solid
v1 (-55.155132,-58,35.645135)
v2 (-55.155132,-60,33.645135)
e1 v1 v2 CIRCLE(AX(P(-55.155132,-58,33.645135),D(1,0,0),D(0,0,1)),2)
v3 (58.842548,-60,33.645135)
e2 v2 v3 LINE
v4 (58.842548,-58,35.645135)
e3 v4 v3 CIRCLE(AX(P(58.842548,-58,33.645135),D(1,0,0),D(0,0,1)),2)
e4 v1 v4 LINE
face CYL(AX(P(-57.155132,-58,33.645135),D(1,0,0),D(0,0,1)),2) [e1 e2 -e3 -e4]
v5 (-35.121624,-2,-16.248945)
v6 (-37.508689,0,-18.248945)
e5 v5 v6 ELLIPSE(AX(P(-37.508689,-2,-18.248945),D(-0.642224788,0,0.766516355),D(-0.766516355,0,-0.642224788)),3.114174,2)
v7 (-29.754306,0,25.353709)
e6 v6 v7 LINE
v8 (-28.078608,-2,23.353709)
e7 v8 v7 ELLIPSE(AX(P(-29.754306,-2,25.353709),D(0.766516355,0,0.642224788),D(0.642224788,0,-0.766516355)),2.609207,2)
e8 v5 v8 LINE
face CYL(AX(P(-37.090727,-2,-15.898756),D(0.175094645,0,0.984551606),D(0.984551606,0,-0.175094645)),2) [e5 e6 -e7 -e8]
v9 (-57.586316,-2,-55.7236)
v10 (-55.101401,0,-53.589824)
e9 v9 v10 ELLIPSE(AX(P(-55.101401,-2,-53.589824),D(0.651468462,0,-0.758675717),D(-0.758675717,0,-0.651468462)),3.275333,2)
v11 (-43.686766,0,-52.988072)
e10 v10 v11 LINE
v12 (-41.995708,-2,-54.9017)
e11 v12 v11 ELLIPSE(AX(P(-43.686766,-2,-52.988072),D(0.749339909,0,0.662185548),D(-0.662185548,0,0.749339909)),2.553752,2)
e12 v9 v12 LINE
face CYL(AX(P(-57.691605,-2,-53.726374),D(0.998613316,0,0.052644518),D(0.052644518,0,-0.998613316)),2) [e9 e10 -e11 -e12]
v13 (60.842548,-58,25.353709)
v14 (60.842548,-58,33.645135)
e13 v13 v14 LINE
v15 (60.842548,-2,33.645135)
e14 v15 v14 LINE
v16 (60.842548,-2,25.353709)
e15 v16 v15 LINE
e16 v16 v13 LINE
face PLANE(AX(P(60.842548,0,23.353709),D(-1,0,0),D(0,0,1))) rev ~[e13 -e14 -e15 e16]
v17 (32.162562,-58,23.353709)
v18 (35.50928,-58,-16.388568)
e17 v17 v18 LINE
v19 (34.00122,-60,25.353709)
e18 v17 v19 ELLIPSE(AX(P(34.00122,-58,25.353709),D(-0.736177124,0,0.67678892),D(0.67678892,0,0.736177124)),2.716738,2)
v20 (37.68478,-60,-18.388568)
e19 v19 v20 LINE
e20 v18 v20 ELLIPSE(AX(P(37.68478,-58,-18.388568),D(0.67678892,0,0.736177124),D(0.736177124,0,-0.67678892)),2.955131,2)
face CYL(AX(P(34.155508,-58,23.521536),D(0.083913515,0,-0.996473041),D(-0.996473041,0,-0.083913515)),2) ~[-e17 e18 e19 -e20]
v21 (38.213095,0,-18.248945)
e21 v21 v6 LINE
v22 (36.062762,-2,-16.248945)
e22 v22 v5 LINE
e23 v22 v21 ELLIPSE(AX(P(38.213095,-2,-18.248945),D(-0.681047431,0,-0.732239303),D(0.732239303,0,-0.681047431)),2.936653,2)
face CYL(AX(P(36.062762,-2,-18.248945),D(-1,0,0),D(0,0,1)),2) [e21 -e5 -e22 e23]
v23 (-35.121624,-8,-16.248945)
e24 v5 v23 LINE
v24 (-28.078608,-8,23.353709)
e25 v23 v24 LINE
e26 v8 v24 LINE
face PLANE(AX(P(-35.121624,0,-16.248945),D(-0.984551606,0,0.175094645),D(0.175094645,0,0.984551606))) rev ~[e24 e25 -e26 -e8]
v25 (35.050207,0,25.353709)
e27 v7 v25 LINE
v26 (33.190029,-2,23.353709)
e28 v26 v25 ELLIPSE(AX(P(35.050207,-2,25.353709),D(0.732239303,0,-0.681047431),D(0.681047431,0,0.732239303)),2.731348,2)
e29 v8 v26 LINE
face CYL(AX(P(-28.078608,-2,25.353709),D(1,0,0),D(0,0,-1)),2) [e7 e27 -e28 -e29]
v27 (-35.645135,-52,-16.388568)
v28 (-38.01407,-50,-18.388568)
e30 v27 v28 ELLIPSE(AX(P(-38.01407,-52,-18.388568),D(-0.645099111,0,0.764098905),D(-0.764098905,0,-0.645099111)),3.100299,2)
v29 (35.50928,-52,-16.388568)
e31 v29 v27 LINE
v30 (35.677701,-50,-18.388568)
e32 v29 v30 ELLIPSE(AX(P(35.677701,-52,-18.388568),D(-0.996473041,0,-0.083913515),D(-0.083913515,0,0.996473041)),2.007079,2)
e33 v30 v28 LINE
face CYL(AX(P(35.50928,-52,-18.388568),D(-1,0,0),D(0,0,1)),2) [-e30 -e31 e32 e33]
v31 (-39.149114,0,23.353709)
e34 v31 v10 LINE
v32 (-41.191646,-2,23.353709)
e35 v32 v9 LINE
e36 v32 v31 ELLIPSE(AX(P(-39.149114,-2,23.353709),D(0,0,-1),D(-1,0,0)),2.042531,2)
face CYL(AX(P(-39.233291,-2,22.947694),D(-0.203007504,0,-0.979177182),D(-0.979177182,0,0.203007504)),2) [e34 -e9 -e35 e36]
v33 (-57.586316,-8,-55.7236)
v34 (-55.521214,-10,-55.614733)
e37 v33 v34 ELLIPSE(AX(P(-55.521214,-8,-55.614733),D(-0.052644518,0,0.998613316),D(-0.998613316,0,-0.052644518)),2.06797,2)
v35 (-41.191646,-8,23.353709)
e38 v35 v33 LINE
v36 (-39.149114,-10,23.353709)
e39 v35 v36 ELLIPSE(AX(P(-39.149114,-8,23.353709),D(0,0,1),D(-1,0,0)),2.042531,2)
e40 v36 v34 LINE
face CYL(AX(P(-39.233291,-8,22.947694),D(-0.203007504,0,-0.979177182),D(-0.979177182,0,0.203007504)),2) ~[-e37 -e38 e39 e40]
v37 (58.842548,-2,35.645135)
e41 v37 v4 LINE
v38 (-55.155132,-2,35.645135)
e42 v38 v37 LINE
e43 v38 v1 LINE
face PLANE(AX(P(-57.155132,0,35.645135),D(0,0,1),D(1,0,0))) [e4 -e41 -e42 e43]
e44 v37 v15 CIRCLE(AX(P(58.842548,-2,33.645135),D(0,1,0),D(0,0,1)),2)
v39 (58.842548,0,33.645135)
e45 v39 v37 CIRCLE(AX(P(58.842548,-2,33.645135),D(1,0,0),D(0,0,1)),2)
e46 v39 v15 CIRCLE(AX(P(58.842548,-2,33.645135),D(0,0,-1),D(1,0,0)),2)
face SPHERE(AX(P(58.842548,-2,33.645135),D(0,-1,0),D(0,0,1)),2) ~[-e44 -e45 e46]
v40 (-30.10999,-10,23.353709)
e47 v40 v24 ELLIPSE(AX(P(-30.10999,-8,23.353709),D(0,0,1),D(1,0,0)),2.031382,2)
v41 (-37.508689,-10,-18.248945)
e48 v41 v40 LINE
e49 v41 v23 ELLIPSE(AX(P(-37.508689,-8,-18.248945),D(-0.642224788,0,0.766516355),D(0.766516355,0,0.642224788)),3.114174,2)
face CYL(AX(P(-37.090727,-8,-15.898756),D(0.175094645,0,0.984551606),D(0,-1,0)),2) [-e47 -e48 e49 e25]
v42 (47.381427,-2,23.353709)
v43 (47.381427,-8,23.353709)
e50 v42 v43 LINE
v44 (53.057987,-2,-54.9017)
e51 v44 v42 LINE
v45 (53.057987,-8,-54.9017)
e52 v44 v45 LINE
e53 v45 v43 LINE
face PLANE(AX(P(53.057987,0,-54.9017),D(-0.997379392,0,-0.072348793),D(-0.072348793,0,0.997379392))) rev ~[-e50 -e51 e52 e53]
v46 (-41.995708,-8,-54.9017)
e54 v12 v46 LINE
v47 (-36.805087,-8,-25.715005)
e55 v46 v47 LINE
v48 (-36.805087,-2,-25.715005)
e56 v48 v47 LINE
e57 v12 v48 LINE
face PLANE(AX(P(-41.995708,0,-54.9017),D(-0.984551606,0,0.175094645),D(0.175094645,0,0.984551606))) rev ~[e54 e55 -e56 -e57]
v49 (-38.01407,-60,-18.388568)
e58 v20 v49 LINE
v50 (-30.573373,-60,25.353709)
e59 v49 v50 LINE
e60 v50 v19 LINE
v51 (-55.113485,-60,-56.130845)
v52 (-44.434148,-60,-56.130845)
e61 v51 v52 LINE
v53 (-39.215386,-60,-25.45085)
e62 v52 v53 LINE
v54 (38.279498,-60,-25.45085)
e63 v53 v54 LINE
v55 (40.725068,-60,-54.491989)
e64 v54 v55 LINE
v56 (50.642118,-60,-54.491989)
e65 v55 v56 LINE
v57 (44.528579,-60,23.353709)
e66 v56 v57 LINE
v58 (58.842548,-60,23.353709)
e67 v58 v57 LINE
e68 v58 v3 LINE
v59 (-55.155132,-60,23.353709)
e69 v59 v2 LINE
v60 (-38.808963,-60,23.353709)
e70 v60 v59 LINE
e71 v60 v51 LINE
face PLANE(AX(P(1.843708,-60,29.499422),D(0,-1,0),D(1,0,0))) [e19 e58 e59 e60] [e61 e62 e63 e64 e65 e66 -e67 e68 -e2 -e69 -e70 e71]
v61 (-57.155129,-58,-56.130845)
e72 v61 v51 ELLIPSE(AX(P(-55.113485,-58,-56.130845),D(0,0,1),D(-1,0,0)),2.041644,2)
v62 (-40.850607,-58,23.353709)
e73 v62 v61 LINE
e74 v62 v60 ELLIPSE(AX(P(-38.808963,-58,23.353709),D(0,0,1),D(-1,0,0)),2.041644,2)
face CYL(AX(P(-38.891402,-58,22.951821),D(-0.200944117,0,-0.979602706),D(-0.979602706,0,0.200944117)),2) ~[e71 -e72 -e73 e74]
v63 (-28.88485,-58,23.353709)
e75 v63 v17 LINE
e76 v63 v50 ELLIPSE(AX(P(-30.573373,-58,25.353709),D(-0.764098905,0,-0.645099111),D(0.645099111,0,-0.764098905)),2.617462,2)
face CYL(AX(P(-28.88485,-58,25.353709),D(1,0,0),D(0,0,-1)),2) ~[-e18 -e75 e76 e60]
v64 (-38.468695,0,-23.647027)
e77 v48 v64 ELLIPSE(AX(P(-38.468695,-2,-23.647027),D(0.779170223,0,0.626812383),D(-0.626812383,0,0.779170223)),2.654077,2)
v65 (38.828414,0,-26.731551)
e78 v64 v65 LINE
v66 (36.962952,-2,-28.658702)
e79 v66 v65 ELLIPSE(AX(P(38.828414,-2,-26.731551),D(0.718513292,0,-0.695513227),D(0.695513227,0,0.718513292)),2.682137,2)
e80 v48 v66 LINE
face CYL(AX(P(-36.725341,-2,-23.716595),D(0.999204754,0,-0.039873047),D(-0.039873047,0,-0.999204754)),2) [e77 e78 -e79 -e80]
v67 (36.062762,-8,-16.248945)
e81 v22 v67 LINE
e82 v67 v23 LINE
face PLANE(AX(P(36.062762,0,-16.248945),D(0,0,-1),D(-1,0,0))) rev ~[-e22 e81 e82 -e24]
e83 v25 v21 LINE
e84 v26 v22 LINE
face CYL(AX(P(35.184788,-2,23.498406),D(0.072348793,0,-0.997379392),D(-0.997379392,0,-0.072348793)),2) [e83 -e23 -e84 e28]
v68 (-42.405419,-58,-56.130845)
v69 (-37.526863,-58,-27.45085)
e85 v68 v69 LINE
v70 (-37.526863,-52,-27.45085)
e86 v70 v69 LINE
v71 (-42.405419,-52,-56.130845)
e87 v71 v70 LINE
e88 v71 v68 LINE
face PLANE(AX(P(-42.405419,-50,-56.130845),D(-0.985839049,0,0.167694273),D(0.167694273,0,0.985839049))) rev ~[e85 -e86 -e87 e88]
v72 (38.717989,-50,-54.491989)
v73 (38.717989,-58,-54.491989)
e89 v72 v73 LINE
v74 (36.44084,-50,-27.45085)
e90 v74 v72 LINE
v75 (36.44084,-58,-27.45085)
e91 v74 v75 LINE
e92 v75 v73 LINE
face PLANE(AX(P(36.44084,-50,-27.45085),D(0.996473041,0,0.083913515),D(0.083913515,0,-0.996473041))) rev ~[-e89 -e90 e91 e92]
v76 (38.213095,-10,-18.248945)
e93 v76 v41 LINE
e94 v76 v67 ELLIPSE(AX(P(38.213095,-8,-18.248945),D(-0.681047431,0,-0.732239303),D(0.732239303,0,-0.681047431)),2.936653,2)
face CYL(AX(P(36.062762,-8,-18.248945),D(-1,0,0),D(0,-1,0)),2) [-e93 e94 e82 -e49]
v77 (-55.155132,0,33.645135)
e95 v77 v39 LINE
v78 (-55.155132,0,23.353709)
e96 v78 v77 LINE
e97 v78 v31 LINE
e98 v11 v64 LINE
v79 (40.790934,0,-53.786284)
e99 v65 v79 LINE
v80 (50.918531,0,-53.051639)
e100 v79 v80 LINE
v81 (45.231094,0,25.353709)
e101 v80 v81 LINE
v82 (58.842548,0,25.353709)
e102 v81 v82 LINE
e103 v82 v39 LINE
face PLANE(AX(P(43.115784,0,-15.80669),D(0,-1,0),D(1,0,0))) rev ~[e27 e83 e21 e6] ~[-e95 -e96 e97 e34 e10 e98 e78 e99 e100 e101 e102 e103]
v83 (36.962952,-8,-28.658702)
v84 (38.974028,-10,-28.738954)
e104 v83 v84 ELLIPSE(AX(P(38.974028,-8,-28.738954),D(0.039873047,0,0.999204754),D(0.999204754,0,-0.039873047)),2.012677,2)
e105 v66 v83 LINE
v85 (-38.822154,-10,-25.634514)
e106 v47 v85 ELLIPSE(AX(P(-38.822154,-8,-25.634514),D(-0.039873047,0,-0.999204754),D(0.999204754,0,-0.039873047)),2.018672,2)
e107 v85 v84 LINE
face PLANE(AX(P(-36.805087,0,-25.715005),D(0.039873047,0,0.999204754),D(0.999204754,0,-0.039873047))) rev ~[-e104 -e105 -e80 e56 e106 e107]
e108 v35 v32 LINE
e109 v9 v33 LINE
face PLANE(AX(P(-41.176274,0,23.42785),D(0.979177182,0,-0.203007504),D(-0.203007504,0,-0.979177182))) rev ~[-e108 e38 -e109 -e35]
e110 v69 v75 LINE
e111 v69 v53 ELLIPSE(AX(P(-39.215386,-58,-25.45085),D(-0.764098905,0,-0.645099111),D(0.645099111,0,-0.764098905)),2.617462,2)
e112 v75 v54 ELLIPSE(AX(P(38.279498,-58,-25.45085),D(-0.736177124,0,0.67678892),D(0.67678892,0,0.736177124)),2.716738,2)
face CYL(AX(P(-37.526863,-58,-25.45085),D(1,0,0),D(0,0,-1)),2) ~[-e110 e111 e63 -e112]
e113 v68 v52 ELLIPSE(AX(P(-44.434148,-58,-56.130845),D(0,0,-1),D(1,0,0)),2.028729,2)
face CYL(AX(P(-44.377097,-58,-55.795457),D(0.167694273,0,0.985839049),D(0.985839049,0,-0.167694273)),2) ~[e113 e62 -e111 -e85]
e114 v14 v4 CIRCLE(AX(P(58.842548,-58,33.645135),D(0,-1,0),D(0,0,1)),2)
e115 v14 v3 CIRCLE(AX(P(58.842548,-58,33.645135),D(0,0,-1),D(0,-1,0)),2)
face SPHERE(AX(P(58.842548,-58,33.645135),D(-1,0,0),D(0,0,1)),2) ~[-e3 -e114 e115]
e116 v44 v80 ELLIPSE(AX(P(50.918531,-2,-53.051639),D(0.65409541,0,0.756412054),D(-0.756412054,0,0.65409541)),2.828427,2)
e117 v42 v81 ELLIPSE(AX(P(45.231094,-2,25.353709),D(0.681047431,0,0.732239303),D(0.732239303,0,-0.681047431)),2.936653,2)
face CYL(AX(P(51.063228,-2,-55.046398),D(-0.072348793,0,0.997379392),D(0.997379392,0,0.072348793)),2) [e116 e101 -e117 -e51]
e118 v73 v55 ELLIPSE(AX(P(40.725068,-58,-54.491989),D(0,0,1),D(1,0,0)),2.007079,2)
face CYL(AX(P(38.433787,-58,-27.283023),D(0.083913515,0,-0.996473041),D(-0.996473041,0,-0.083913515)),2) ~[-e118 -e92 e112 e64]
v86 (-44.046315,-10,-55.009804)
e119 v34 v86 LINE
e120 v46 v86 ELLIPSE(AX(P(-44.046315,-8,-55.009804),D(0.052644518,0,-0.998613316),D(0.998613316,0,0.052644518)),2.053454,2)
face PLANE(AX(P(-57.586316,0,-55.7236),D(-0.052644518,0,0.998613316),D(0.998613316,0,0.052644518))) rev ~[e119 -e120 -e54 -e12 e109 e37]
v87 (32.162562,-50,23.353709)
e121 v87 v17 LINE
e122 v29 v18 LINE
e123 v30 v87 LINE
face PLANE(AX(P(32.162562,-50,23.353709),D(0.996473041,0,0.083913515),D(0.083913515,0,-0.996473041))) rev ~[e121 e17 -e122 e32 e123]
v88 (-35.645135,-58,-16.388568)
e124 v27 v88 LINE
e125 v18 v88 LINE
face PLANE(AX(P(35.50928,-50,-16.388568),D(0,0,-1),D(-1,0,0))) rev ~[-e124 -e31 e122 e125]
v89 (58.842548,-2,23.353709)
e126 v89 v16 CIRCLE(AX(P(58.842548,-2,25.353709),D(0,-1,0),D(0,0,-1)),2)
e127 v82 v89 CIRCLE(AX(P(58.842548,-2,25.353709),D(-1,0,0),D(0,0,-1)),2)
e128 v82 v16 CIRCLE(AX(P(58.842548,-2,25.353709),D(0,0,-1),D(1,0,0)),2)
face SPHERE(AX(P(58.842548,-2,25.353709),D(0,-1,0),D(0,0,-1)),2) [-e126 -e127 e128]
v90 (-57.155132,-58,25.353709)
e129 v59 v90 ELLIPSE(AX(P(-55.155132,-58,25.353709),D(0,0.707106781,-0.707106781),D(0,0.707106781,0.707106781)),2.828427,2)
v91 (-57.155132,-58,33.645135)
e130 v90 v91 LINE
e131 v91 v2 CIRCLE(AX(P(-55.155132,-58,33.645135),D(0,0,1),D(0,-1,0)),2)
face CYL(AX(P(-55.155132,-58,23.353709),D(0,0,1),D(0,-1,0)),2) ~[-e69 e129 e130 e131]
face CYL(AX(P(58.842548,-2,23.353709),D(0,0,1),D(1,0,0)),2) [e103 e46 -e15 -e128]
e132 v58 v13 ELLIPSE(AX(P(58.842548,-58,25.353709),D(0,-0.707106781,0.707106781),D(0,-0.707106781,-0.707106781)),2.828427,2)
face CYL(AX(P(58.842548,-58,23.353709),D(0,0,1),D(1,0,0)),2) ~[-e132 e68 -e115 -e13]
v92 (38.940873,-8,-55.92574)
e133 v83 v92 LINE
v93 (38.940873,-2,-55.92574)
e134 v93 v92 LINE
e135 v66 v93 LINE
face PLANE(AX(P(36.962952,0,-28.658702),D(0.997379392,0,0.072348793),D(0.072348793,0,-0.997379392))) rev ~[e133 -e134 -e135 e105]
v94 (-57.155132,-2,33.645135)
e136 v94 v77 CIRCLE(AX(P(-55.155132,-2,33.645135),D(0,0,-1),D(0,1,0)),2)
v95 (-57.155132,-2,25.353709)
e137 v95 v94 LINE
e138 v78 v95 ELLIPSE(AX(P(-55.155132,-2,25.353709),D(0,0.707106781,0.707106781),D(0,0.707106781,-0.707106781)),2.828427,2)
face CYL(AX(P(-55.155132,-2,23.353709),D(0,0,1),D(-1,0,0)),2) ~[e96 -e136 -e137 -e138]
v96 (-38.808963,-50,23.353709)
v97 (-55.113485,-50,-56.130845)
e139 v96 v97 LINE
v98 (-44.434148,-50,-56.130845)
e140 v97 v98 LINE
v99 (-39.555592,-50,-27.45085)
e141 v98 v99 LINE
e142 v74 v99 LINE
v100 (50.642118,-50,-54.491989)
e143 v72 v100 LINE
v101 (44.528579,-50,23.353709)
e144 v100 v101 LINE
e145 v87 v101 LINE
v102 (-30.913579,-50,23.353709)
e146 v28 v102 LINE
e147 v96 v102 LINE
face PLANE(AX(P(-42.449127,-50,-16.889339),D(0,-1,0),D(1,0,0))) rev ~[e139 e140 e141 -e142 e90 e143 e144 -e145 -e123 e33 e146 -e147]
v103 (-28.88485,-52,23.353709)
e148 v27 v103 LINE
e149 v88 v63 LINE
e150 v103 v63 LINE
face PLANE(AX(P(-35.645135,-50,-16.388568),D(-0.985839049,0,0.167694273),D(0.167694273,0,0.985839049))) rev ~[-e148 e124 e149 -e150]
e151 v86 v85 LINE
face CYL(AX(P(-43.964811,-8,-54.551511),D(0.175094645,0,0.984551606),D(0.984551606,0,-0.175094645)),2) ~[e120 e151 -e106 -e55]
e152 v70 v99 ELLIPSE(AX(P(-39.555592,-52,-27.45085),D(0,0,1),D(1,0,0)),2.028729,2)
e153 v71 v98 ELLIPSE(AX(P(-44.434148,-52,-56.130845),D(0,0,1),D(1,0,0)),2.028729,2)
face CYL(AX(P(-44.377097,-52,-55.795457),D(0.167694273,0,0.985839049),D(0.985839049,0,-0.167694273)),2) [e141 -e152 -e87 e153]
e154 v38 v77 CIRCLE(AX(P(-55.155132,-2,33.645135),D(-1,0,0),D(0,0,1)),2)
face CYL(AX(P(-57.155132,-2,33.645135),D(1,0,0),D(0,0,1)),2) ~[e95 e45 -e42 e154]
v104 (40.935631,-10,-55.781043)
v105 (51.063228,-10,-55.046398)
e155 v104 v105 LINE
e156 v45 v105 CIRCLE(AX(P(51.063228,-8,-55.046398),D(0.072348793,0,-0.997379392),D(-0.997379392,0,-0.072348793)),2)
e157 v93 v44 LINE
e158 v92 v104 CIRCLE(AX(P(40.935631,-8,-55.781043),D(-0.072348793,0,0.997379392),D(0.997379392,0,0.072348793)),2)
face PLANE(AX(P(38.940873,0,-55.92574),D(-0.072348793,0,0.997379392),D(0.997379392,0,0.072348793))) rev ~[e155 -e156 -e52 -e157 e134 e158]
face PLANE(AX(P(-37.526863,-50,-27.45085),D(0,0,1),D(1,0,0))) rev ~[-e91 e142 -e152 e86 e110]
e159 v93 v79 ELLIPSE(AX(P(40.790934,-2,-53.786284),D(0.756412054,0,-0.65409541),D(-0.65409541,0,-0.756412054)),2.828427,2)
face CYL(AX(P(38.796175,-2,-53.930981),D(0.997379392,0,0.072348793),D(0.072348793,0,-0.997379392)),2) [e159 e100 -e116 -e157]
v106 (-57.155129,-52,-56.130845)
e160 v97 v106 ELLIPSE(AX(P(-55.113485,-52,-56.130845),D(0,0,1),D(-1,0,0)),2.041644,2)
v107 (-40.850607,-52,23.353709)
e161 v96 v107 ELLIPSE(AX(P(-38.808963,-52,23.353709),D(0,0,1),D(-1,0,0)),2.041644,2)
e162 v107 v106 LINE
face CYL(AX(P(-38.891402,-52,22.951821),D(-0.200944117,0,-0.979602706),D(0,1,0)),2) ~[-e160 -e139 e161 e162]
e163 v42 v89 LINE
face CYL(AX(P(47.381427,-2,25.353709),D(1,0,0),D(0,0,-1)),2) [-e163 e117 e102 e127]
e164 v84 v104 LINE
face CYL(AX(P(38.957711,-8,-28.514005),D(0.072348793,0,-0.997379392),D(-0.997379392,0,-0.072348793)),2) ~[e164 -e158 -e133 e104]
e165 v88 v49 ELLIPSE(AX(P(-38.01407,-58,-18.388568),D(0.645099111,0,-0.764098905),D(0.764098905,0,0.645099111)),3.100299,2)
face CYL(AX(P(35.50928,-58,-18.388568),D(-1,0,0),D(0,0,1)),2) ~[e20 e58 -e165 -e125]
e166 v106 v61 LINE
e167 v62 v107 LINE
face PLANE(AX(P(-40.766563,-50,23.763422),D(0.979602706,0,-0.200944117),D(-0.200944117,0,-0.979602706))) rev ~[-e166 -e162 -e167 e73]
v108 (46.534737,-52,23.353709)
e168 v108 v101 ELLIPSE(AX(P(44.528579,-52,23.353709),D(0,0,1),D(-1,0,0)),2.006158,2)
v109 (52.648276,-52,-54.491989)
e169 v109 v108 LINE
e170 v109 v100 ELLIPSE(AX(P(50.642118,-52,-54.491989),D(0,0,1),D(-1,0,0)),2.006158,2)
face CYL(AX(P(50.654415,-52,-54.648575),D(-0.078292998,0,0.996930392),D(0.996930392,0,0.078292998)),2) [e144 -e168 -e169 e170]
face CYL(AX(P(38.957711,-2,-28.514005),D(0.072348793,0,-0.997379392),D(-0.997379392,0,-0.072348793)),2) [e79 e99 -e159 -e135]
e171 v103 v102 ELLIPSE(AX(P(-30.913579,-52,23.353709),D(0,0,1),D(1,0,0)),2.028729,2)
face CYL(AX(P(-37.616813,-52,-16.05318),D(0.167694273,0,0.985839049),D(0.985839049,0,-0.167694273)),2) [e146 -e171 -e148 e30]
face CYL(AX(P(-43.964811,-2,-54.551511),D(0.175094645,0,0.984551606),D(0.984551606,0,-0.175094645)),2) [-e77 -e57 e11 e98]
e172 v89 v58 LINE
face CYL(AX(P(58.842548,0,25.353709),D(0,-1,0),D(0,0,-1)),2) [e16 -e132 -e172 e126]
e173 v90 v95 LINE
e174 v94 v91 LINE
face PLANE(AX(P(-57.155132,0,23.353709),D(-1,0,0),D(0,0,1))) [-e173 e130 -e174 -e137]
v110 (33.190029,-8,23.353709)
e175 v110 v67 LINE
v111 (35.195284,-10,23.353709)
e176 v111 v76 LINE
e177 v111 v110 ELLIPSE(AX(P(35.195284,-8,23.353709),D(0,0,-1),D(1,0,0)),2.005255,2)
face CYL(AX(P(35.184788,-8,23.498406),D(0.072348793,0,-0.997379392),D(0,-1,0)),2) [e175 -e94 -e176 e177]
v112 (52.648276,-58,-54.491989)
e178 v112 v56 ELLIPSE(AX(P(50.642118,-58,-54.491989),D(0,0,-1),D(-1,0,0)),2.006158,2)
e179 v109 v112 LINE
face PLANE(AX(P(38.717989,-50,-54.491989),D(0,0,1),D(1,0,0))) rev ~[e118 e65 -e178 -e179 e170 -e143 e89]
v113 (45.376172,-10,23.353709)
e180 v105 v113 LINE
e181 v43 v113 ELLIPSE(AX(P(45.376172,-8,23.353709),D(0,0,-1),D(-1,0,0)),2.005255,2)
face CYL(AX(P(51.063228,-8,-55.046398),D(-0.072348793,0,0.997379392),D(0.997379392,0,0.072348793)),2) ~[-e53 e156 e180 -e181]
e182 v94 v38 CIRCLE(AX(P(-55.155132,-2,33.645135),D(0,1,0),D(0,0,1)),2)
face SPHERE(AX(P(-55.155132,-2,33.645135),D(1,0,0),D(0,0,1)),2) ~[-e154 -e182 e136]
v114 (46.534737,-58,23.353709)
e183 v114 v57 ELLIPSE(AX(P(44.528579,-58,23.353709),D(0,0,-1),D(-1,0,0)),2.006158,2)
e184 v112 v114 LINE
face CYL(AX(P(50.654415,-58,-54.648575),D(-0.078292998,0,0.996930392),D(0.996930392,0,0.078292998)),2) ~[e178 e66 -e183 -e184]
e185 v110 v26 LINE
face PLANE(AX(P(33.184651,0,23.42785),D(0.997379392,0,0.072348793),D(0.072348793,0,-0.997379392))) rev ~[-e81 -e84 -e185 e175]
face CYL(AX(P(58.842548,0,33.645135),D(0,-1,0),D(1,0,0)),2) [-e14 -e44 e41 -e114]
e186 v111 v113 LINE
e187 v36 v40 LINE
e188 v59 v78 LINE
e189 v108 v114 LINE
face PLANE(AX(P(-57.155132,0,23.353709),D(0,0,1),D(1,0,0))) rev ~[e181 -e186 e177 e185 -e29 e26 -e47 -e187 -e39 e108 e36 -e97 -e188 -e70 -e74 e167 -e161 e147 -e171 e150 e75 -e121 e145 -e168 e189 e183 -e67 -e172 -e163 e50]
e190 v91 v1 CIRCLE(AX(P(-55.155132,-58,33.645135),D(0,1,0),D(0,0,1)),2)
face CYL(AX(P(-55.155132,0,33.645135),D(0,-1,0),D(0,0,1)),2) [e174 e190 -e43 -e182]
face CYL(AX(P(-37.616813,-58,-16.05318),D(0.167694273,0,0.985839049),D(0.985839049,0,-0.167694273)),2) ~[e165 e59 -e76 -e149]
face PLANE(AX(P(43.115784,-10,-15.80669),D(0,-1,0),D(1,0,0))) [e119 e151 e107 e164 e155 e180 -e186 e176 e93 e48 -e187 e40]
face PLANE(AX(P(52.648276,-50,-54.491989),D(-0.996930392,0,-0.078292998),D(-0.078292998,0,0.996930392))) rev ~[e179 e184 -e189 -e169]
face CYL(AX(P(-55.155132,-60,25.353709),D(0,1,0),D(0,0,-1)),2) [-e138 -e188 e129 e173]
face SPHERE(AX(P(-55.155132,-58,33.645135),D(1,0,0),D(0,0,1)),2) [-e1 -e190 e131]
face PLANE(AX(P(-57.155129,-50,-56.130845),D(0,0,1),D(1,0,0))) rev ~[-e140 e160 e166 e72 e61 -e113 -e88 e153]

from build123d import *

# Parameters (mm, degrees)
F0_W          = 117.9976798594
F0_H          = 12.2914258391
F1_DEPTH      = 60
F4_DEPTH      = 10
F6_DEPTH      = 10
F7_W          = 39.3325621262
F7_H          = 90.9565519542
F8_DEPTH      = 57.5873161514
F8_DEPTH_BACK = 100
F9_R          = 2


with BuildPart() as f1:
    # F0 (on Front) → F1 (new body)
    with BuildSketch(Plane.XZ):
        with Locations((1.843707636, 29.4994218275)):
            Rectangle(F0_W, F0_H)
    extrude(amount=F1_DEPTH)

    # F3 (on offset) → F4 (join)
    with BuildSketch(Plane.XZ.offset(50)):
        Polygon((-28.8848504424, 23.353708908), (-40.7665632665, 23.7634219229), (-57.1551285684, -56.1308450997), (-42.4054190516, -56.1308450997), (-37.5268632135, -27.4508504777), (-35.645134747, -16.3885680959), align=None)
        Polygon((35.509279896, -16.3885680959), (-35.645134747, -16.3885680959), (-37.5268632135, -27.4508504777), (36.4408404675, -27.4508504777), align=None)
        Polygon((32.1625620127, 23.353708908), (35.509279896, -16.3885680959), (36.4408404675, -27.4508504777), (38.7179888785, -54.4919893146), (52.6482760906, -54.4919893146), (46.5025603771, 23.7634219229), align=None)
    extrude(amount=F4_DEPTH)

    # F5 (on Front) → F6 (join)
    with BuildSketch(Plane.XZ):
        Polygon((53.0579872429, -54.9017004669), (47.321986407, 24.1731368005), (33.1846513491, 23.4278501328), (36.0627619886, -16.2489450714), (36.7494194461, -25.7150048338), (36.9629519862, -28.6587022527), (38.9408726281, -55.9257402756), align=None)
        Polygon((36.7494194461, -25.7150048338), (36.0627619886, -16.2489450714), (-35.1216238776, -16.2489450714), (-36.8050870485, -25.7150048338), (36.9629519862, -28.6587022527), align=None)
        Polygon((-36.8050870485, -25.7150048338), (-35.1216238776, -16.2489450714), (-28.0654225498, 23.4278501328), (-41.1762744188, 23.4278501328), (-57.5863161514, -55.7236002397), (-41.9957078993, -54.9017004669), align=None)
    extrude(amount=F6_DEPTH)

    # F7 (on Right) → F8 (cut, two sides)
    with BuildSketch(Plane.YZ) as f8_sk:
        with Locations((-30.1139908843, -22.1245670691)):
            Rectangle(F7_W, F7_H)
    extrude(amount=-F8_DEPTH, mode=Mode.SUBTRACT)
    extrude(f8_sk.sketch, amount=F8_DEPTH_BACK, mode=Mode.SUBTRACT)

    # F9
    f9_edges = [f1.edges().sort_by_distance(p)[0] for p in [
        (1.843708, -60, 35.645135),
        (1.638856, -60, 23.353709),
        (-32.264993, -60, 3.48257),
        (33.835921, -60, 3.48257),
        (-0.067927, -60, -16.388568),
        (-0.543011, -60, -27.45085),
        (37.579415, -60, -40.97142),
        (49.591506, -60, -15.56914),
        (49.591506, -50, -15.56914),
        (60.842548, -30, 23.353709),
        (60.842548, -30, 35.645135),
        (1.843708, 0, 35.645135),
        (2.555711, 0, 23.353709),
        (54.111987, 0, 23.353709),
        (-57.155132, -30, 35.645135),
        (-57.155132, -30, 23.353709),
        (-57.155132, -60, 29.499422),
        (-57.155132, 0, 29.499422),
        (60.842548, 0, 29.499422),
        (60.842548, -60, 29.499422),
        (50.219707, 0, -15.773996),
        (-49.388981, 0, -16.184946),
        (-49.002868, -50, -16.388568),
        (-39.400397, 0, -40.308353),
        (-49.791012, 0, -55.31265),
        (0.078932, 0, -27.186854),
        (37.951912, 0, -42.292221),
        (45.99943, 0, -55.41372),
        (34.626396, 0, 3.552382),
        (0.470569, 0, -16.248945),
        (-31.600116, 0, 3.552382),
        (-31.600116, -10, 3.552382),
        (-39.400397, -10, -40.308353),
        (-39.966141, -60, -41.790848),
        (34.626396, -10, 3.552382),
        (50.219707, -10, -15.773996),
        (-49.002868, -60, -16.388568),
        (0.470569, -10, -16.248945),
        (-0.067927, -50, -16.388568),
        (-32.264993, -50, 3.48257),
        (-49.388981, -10, -16.184946),
        (-39.966141, -50, -41.790848),
        (37.951912, -10, -42.292221),
    ]]
    fillet(f9_edges, radius=F9_R)


solid = f1.part
